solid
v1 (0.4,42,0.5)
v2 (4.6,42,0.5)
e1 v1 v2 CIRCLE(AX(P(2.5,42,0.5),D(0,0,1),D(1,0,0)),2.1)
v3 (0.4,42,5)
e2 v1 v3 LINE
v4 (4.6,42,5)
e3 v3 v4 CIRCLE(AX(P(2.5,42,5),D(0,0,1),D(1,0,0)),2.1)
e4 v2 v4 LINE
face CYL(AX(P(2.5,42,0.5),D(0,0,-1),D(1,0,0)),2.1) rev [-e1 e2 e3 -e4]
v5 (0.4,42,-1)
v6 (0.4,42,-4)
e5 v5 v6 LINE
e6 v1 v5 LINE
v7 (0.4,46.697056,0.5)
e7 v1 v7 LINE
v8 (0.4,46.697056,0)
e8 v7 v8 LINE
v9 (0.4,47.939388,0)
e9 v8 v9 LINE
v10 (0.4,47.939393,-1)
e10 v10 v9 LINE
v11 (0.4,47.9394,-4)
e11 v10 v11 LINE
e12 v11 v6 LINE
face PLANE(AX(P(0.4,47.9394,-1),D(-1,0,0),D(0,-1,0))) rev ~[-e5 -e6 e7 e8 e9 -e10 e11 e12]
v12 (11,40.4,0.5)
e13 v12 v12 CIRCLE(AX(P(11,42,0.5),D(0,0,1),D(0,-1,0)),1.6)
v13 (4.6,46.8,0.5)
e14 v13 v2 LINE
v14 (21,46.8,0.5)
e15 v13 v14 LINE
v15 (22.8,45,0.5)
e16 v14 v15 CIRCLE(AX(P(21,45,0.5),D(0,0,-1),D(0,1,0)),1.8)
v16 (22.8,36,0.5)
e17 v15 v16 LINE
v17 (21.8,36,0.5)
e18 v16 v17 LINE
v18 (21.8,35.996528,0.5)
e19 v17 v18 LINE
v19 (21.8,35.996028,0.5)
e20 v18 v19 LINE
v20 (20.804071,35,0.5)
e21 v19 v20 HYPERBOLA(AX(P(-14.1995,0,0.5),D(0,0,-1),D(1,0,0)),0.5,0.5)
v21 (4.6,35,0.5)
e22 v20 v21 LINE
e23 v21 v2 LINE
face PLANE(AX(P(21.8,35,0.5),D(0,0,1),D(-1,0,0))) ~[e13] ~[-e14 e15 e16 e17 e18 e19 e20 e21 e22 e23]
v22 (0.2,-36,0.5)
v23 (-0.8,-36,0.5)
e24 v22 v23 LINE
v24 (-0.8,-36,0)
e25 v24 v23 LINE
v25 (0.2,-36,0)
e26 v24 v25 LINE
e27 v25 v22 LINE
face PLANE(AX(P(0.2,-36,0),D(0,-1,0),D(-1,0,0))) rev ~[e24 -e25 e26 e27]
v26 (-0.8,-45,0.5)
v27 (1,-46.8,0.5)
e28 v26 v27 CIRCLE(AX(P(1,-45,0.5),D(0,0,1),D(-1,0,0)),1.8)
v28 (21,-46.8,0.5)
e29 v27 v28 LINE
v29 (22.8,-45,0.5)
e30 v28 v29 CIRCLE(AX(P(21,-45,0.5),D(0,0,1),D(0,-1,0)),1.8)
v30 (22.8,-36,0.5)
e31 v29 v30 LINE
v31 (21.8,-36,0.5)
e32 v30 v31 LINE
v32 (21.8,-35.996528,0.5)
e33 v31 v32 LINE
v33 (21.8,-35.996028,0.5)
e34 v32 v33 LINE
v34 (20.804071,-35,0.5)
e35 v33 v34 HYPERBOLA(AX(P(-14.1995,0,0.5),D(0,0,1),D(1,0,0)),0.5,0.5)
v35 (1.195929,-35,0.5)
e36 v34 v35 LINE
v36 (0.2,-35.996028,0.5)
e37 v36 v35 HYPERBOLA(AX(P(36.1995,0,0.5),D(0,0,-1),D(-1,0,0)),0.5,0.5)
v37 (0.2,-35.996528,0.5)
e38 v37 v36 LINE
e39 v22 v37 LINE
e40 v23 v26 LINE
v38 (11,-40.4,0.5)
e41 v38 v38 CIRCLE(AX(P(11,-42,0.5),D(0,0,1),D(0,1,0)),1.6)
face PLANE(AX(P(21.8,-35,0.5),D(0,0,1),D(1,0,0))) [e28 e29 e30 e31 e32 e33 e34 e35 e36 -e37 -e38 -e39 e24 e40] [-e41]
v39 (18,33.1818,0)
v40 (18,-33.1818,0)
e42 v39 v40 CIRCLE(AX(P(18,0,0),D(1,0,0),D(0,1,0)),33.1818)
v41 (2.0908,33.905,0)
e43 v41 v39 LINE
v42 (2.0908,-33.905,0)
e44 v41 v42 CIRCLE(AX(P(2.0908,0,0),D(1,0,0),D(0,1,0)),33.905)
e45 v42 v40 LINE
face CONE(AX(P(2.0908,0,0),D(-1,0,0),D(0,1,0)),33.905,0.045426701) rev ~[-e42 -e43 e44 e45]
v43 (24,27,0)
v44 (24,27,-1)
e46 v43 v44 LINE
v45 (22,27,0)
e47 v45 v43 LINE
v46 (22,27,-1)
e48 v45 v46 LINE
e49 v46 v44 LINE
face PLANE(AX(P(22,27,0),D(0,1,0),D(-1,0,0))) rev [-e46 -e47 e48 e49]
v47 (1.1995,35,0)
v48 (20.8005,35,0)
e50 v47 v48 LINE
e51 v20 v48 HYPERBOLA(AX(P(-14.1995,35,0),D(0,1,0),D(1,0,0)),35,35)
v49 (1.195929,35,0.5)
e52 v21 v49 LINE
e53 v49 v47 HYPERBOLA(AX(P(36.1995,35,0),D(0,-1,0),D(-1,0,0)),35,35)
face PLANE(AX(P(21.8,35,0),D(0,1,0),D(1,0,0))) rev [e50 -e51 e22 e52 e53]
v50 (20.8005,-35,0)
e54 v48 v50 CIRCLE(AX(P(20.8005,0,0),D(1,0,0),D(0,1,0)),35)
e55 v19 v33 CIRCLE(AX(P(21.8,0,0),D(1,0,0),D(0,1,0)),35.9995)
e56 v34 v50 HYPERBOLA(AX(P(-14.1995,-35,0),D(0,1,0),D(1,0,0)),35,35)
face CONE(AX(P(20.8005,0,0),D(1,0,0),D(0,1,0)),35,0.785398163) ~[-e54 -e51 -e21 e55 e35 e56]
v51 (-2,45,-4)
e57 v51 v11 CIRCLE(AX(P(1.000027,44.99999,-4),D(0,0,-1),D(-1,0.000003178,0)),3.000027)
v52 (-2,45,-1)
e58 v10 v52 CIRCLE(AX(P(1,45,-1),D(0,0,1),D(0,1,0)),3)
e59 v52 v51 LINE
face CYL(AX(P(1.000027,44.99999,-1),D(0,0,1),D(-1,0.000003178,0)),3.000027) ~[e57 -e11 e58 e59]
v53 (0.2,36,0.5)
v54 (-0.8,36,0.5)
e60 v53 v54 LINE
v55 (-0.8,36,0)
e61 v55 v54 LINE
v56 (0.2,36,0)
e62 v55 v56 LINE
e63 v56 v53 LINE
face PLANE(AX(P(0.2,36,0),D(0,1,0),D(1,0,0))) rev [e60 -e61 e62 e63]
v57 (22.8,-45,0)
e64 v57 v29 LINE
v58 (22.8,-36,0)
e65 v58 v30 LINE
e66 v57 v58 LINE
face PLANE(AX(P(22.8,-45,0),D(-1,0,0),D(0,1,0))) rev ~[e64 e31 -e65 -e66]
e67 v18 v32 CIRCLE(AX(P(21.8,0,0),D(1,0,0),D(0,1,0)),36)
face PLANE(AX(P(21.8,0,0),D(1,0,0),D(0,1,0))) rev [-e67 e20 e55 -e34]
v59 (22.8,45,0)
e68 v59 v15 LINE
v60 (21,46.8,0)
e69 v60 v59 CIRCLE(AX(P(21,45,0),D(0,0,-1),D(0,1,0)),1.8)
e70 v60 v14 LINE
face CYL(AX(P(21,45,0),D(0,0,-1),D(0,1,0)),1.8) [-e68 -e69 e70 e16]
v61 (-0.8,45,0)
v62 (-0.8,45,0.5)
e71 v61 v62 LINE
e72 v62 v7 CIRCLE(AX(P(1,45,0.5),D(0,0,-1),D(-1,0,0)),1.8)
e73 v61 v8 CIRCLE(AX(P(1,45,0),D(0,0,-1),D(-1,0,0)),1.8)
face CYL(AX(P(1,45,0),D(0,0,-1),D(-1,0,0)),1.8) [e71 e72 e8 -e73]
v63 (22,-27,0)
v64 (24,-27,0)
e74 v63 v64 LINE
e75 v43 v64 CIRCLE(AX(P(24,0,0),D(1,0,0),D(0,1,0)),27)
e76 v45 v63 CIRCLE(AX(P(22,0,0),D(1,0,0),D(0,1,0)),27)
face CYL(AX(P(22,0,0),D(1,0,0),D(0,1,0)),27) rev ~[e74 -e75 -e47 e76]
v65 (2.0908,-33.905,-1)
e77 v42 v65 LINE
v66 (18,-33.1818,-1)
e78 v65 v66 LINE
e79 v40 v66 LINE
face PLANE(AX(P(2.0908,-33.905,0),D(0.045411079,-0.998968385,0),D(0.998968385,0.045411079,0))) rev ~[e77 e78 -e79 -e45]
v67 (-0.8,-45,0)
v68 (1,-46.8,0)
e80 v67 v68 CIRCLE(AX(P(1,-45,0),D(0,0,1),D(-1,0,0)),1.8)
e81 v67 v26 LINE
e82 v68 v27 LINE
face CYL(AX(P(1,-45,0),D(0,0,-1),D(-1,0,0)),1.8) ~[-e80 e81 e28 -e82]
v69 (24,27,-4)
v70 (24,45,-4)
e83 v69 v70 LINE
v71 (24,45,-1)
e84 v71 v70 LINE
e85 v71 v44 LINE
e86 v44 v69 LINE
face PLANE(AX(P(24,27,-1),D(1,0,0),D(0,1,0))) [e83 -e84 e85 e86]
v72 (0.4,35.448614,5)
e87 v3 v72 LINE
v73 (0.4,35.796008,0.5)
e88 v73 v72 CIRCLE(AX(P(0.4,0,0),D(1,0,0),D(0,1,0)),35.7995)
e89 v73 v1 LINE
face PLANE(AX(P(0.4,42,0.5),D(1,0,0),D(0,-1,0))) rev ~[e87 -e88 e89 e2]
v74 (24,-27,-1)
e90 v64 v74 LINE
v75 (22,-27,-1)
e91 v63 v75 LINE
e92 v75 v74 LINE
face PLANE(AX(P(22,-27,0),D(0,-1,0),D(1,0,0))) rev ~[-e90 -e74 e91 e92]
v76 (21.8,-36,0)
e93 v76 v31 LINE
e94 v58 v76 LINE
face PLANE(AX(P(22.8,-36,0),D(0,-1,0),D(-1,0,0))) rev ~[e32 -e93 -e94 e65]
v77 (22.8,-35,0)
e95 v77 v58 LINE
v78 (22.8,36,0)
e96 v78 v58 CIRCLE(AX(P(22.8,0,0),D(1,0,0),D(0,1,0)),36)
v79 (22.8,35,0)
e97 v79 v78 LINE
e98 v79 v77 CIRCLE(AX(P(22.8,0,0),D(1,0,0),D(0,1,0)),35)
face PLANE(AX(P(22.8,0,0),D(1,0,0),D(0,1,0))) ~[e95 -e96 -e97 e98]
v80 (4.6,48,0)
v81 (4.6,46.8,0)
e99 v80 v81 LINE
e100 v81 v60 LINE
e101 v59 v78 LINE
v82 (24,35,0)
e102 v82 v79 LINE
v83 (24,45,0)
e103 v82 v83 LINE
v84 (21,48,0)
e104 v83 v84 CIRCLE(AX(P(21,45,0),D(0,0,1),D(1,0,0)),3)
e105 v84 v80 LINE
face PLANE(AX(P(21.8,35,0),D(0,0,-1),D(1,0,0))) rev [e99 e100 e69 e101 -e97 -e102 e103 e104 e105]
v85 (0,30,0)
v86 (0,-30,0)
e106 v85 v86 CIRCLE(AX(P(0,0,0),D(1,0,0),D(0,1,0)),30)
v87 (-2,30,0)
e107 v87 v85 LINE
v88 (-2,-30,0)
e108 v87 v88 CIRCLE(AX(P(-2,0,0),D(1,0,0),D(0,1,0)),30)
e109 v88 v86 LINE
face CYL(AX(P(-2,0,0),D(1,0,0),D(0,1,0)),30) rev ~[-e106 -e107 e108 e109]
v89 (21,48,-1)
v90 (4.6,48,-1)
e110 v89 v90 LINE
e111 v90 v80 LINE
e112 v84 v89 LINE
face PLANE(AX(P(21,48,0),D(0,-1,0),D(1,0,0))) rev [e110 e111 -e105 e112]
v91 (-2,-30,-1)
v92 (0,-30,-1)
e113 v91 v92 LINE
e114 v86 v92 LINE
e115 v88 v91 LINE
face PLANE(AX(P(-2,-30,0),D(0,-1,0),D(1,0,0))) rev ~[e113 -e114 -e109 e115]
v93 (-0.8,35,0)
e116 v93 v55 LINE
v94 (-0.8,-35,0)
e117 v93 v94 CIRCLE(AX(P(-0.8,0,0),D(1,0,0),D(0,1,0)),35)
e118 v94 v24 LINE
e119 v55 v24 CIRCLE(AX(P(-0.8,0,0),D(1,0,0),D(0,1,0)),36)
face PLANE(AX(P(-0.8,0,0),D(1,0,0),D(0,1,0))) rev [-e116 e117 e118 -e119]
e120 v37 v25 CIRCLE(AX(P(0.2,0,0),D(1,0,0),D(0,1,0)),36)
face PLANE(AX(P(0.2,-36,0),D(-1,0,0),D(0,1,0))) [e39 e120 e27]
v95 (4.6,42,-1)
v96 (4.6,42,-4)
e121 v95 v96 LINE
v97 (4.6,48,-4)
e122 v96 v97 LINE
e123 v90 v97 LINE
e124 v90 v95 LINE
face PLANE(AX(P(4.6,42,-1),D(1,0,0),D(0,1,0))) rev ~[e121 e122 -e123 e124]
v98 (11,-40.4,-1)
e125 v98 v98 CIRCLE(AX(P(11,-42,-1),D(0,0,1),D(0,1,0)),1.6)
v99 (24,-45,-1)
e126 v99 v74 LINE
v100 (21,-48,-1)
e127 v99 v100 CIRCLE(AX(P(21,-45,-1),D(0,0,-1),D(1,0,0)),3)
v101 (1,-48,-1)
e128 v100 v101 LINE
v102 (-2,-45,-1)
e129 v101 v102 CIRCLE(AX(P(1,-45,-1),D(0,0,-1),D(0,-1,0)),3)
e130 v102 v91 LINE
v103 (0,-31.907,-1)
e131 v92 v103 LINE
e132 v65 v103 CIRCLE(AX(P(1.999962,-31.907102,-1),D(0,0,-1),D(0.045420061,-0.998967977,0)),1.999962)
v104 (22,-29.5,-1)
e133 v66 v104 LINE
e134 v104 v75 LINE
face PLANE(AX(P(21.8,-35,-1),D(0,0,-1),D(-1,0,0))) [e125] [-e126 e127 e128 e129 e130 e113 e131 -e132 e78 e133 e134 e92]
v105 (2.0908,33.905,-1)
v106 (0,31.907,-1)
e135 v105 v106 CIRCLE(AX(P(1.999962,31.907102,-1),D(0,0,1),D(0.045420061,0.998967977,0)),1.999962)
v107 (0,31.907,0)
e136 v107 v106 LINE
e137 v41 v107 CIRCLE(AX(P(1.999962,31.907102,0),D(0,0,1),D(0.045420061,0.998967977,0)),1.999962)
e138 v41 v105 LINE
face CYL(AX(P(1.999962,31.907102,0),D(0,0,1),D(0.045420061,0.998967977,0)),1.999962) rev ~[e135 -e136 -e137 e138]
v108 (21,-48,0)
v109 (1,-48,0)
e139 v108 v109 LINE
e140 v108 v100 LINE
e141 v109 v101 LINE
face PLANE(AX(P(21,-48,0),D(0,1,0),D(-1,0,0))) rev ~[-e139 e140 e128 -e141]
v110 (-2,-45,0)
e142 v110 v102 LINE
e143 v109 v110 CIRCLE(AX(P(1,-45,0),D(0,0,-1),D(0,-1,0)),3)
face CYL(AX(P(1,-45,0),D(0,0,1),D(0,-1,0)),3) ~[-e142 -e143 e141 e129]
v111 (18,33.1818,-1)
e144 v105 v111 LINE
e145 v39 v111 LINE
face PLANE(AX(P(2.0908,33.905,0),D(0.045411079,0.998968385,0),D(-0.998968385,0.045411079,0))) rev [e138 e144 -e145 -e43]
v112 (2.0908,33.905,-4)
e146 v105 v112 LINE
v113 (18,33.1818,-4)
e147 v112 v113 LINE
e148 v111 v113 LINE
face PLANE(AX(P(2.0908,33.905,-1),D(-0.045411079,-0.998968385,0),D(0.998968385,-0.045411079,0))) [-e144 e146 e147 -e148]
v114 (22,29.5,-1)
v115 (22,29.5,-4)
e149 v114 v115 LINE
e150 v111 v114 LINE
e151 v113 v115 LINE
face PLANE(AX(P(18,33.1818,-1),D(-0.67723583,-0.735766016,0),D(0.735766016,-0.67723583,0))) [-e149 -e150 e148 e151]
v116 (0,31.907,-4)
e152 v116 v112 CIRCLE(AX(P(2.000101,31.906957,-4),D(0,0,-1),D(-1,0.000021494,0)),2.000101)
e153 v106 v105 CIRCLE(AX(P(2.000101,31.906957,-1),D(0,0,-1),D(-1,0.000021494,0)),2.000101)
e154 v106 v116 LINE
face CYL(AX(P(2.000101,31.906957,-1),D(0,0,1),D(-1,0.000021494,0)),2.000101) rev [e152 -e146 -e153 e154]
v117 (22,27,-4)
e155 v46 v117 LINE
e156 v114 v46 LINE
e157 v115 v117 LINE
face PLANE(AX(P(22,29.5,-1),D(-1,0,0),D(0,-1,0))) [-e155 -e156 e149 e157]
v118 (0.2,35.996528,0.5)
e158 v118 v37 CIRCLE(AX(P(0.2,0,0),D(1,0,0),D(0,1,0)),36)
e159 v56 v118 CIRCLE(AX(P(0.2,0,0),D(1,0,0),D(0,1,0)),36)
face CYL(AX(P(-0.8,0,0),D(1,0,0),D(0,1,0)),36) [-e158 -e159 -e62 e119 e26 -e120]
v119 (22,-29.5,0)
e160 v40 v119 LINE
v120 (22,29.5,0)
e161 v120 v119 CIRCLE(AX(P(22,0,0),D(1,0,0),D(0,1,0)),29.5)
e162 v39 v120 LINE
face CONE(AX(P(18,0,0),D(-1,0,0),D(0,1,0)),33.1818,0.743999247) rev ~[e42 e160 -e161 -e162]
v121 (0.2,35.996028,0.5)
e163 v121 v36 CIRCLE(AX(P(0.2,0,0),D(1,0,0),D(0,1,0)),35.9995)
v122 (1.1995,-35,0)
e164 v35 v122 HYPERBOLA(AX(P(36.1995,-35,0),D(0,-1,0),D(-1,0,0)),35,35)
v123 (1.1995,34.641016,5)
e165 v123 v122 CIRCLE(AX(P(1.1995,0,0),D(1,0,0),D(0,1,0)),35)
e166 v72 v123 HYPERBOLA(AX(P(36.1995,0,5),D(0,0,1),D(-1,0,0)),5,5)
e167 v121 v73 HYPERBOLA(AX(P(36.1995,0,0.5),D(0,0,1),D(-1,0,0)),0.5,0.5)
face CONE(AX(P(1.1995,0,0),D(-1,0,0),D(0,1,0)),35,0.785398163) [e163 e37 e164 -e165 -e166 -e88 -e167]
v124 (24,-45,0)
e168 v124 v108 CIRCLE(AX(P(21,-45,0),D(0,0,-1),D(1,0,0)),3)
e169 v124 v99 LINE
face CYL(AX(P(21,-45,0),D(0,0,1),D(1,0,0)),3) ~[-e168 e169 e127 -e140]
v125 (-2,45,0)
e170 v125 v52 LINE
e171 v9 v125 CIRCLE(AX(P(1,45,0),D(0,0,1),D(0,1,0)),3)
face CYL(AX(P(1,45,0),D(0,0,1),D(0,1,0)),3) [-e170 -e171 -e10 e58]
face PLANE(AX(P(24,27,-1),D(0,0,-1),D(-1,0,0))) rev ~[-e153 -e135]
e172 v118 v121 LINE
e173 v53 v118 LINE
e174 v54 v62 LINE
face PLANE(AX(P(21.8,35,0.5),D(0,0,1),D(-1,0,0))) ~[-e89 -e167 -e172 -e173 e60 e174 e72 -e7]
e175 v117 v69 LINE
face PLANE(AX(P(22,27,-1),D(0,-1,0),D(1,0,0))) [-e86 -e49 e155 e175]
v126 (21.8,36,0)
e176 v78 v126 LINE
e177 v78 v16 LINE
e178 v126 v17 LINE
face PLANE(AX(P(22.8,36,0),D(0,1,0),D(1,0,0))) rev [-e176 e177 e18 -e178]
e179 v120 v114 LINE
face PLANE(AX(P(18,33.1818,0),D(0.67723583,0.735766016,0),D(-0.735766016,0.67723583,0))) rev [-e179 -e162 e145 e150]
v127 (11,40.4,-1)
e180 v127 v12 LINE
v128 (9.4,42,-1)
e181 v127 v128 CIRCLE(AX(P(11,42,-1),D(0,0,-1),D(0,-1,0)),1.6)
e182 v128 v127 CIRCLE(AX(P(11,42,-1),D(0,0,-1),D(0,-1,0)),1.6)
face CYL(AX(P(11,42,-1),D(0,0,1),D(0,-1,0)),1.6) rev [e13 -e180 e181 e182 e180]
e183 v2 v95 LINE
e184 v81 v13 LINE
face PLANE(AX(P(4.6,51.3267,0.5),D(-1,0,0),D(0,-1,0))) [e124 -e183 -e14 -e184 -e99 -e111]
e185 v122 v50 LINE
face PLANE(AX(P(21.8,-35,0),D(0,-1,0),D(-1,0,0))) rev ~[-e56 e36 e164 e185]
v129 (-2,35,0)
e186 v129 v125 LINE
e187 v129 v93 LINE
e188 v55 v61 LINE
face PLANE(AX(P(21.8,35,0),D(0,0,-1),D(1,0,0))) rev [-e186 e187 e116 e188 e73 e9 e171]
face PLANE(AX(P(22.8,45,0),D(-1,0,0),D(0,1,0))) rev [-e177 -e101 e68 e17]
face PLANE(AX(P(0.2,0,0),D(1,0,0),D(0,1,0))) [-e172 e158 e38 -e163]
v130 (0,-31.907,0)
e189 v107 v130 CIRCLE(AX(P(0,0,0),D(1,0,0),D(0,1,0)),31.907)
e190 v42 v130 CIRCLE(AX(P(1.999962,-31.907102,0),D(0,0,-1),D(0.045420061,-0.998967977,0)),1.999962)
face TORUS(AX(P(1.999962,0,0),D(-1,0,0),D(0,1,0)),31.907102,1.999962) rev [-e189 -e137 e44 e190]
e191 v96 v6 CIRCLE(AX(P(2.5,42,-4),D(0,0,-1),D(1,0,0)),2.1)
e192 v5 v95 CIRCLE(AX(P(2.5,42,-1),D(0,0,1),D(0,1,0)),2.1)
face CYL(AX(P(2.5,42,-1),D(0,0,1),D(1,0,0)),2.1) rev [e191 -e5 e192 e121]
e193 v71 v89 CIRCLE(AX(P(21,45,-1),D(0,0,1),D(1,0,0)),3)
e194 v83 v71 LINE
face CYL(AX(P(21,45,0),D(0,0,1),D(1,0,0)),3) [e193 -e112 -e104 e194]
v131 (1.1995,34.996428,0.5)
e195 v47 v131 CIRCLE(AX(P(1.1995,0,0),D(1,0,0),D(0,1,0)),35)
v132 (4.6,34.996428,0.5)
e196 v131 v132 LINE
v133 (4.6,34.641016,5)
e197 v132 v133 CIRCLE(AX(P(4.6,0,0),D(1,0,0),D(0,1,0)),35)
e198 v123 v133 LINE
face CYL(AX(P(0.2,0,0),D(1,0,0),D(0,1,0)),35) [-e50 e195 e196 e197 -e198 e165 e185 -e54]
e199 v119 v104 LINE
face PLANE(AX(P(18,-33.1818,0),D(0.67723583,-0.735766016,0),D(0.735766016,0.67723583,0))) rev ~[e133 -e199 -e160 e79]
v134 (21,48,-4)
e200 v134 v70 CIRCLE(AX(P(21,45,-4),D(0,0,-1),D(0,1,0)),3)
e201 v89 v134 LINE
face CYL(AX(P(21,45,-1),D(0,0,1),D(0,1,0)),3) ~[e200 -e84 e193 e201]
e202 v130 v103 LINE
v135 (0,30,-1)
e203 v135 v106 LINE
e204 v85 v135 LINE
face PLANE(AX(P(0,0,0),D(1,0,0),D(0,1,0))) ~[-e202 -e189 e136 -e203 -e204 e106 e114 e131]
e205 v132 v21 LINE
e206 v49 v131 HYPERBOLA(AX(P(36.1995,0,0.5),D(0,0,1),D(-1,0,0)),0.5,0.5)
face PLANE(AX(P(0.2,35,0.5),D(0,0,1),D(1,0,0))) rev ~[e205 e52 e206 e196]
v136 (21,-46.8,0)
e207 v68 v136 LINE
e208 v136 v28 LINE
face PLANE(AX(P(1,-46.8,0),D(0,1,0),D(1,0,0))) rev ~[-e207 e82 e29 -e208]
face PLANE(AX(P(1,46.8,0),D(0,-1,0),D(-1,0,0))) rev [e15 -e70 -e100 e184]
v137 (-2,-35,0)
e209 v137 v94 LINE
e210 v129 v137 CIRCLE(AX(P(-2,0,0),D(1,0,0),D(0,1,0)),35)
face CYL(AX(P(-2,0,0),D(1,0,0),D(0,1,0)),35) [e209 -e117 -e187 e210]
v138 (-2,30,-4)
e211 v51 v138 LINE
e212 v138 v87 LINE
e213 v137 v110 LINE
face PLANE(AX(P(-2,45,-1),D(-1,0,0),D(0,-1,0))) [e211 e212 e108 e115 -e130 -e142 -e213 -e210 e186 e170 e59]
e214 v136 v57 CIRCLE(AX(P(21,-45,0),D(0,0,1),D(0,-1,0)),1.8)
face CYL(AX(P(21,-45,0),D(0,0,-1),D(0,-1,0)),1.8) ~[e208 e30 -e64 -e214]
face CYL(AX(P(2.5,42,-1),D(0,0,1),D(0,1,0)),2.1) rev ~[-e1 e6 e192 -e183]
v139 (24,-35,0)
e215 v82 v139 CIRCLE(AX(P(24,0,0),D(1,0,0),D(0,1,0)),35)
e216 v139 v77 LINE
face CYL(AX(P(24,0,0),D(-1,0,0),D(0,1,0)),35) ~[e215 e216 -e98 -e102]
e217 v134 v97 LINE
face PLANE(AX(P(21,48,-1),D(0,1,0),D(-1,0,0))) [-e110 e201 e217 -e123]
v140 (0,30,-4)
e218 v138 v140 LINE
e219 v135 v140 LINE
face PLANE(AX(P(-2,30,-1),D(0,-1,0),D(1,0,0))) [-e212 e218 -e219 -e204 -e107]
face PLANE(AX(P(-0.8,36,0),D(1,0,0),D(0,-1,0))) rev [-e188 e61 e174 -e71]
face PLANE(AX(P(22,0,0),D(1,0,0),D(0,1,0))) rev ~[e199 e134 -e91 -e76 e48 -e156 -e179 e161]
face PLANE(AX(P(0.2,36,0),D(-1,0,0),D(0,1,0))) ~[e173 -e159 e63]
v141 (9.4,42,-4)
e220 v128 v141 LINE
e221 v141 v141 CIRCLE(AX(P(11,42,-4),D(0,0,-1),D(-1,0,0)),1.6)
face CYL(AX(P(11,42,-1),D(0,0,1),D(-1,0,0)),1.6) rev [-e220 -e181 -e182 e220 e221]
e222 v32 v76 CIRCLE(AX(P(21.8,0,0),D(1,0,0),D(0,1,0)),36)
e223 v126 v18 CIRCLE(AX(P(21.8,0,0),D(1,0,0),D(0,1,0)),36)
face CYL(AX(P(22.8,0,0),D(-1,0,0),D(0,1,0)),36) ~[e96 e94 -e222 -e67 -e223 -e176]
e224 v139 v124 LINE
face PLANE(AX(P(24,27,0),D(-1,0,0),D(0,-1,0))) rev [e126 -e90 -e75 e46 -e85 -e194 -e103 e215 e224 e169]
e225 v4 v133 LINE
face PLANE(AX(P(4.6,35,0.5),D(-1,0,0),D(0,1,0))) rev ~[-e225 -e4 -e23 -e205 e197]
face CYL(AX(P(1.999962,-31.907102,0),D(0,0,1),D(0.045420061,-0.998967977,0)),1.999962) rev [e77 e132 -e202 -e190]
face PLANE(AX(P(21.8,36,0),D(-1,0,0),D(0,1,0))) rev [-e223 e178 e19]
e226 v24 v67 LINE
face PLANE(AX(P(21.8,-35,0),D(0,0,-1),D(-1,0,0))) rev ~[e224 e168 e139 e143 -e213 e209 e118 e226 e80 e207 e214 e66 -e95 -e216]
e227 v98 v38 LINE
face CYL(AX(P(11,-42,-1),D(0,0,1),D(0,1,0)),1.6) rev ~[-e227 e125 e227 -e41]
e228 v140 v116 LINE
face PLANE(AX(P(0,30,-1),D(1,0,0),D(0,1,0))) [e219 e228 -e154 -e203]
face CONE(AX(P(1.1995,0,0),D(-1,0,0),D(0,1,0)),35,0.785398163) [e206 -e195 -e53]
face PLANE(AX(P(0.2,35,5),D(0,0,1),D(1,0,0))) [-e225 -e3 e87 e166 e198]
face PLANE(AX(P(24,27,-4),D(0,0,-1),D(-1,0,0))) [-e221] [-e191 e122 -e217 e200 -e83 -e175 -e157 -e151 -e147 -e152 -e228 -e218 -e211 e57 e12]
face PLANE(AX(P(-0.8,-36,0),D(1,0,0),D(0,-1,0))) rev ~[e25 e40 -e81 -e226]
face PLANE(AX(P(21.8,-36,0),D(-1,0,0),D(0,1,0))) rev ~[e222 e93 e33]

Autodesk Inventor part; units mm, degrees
ref_plane "YZ Plane" through (0, 0, 0) normal (1, 0, 0) x (0, 1, 0)
ref_plane "XZ Plane" through (0, 0, 0) normal (0, 1, 0) x (-1, 0, 0)
sketch "Sketch1" plane through (0, 0, 0) normal (0, 0, 1) x (1, 0, 0)
  line L0 (0, 30) -> (0, 31.907)
  line L1 (2.0908, 33.905) -> (18, 33.1818)
  line L2 (22, 29.5) -> (22, 27)
  line L3 (22, 27) -> (24, 27)
  line L4 (24, 27) -> (24, 35)
  line L5 (-2, 35) -> (-2, 30)
  line L6 (-2, 30) -> (0, 30)
  line L7 (0, 0) -> (88.4682, 0)
  arc A0 (2.0908, 33.905) -> (0, 31.907) centre (2, 31.907) ccw
  line L8 (18, 33.1818) -> (22, 29.5)
  line L9 (-2, 35) -> (-0.8, 35)
  line L10 (-0.8, 35) -> (-0.8, 36)
  line L11 (-0.8, 36) -> (0.2, 36)
  line L12 (0.2, 36) -> (0.2, 35)
  line L13 (0.2, 35) -> (21.8, 35)
  line L14 (21.8, 35) -> (21.8, 36)
  line L15 (24, 35) -> (22.8, 35)
  line L16 (22.8, 35) -> (22.8, 36)
  line L17 (22.8, 36) -> (21.8, 36)
  point P0 (0, 34)
  point P1 (22, 33)
  point P2 (-1, 30)
  point P3 (22.3, 36)
  point P4 (-0.3, 36)
  dimension "d0" = 66
  dimension "d1" = 68
  dimension "d2" = 22
  dimension "d3" = 2
  dimension "d4" = 6
  dimension "d7" = 2
  dimension "d8" = 4
  dimension "d9" = 3.5
  dimension "d10" = 4
  dimension "d11" = 2
  dimension "d12" = 1.2
  dimension "d13" = 70
  dimension "d14" = 1
  dimension "d16" = 26
  dimension "d66" = 1
revolve "Revolution1" add sketch "Sketch1" angle 180 about axis through (0, 0, 0) along (1, 0, 0)
sketch "Sketch2" plane through (21.8, -35, 0) normal (0, 0, -1) x (-1, 0, 0)
  line L0 (23.8, 0) -> (23.8, 5) projected
  line L1 (23.8, 0) -> (-2.2, 0)
  line L2 (-2.2, 0) -> (-2.2, -10)
  line L3 (0.8, -13) -> (20.8, -13)
  line L4 (23.8, -10) -> (23.8, 0)
  arc A0 (20.8, -13) -> (23.8, -10) centre (20.8, -10) ccw
  arc A1 (-2.2, -10) -> (0.8, -13) centre (0.8, -10) ccw
  line L5 (23.8, 5) -> (21.8, 5) projected
  line L6 (21.8, 5) -> (21.8, 3.093) projected
  arc A2 (19.7092, 1.095) -> (21.8, 3.093) centre (19.8, 3.093) ccw projected
  line L7 (19.7092, 1.095) -> (3.8, 1.8182) projected
  line L8 (3.8, 1.8182) -> (-0.2, 5.5) projected
  line L9 (-0.2, 5.5) -> (-0.2, 8) projected
  line L10 (-0.2, 8) -> (-2.2, 8) projected
  line L11 (-2.2, 8) -> (-2.2, 0) projected
  line L12 (-2.2, 0) -> (-1, 0) projected
  line L13 (-1, 0) -> (-1, -1) projected
  line L14 (-1, -1) -> (0, -1) projected
  line L15 (0, -1) -> (0, 0) projected
  line L16 (0, 0) -> (21.6, 0) projected
  line L17 (21.6, 0) -> (21.6, -1) projected
  line L18 (21.6, -1) -> (22.6, -1) projected
  line L19 (22.6, -1) -> (22.6, 0) projected
  line L20 (22.6, 0) -> (23.8, 0) projected
  line L21 (23.8, 0) -> (23.8, 5) projected
  point P0 (21.8, 35)
  dimension "d17" = 48
  dimension "d18" = 3
extrude "Extrusion1" add sketch "Sketch2" along normal blind 1
sketch "Sketch3" plane through (21.8, -35, 0) normal (0, 0, 1) x (1, 0, 0)
  line L0 (-23.8, -10) -> (-23.8, 0) projected
  arc A0 (-23.8, -10) -> (-20.8, -13) centre (-20.8, -10) ccw projected
  line L1 (-0.8, -13) -> (-20.8, -13) projected
  arc A1 (-0.8, -13) -> (2.2, -10) centre (-0.8, -10) ccw projected
  line L2 (2.2, 0) -> (2.2, -10) projected
  line L3 (0, 0) -> (-21.6, 0) projected
  line L4 (0, -1) -> (0, 71) projected
  line L5 (-21.6, -1) -> (-21.6, 71) projected
  line L6 (-22.6, 0) -> (-22.6, -10)
  arc A2 (-22.6, -10) -> (-20.8, -11.8) centre (-20.8, -10) ccw
  line L7 (-20.8, -11.8) -> (-0.8, -11.8)
  arc A3 (-0.8, -11.8) -> (1, -10) centre (-0.8, -10) ccw
  line L8 (1, -10) -> (1, 0)
  line L9 (-21.6, -1) -> (-22.6, -1) projected
  line L10 (1, -1) -> (0, -1) projected
  point P0 (-21.8, 35)
  point P1 (-21.6, 71)
extrude "Extrusion2" add sketch "Sketch3" along normal blind 0.5
sketch "Sketch4" plane through (21.8, -35, -1) normal (0, 0, -1) x (-1, 0, 0)
  line L0 (0.8, -13) -> (20.8, -13) projected
  point P0 (21.8, 35)
  point P1 (10.8, -7)
  point P2 (10.8, -13)
  dimension "d30" = 42
hole "Hole1" at (11, -42, -1) direction (0, 0, 1) diameter 3.2 depth 4.5 tip angle 118
mirror "Mirror1" about plane through (0, 0, 0) normal (0, 1, 0) of "Extrusion1", "Extrusion2", "Hole1"
sketch "Sketch5" plane through (21, 48, -1) normal (0, 0, -1) x (-1, 0, 0)
  line L0 (23, -3) -> (23, -18) projected
  line L1 (0, 0) -> (20, 0) projected
  point P0 (21, -48)
  point P1 (18.5, -6)
  dimension "d38" = 4.5
  dimension "d39" = 6
hole "Hole2" at (2.5, 42, -1) direction (0, 0, 1) diameter 4.2 depth 8 tip angle 118
chamfer "Chamfer1" distance 1 angle 45 2 edges at (21.8, 0, 35) (0.2, 0, 35)
sketch "Sketch6" plane through (0.2, 35, 0.5) normal (0, 0, 1) x (1, 0, 0)
  circle A0 centre (2.3, 7) radius 2.1 projected
  line L0 (4.4, 7) -> (0.2, 7)
  line L1 (0.2, 7) -> (0.2, -1.0182)
  line L2 (0.2, -1.0182) -> (4.4, -1.2091)
  line L3 (4.4, -1.2091) -> (4.4, 7)
  line L4 (21.6, 0) -> (0, 0) projected
  line L5 (1.8908, -1.095) -> (17.8, -1.8182) projected
  point P0 (-0.2, -35)
  point P1 (0.2, 7)
  point P2 (4.1466, 0)
  point P3 (0.4534, 0)
extrude "Extrusion3" add sketch "Sketch6" along normal blind 4.5 contours L3 L4 L1 A0 | L3 L2 L1 L4
sketch "Sketch7" plane through (1, 46.8, 0.5) normal (0, 0, 1) x (1, 0, 0)
  line L0 (3.6, -12.159) -> (3.6, -4.8) projected
  line L1 (3.6, -4.8) -> (-0.6, -4.8)
  line L2 (-0.6, -4.8) -> (-0.6, 4.5267)
  line L3 (-0.6, 4.5267) -> (3.6, 4.5267)
  line L4 (3.6, 4.5267) -> (3.6, -4.8)
  point P0 (-1, -46.8)
extrude "Extrusion4" cut sketch "Sketch7" against normal blind 4.5
ref_plane "Work Plane1" through (-0.8, 0, 36) normal (0, 0, 1) x (1, 0, 0)
sketch "Sketch8" plane through (-0.8, 0, 36) normal (0, 0, 1) x (1, 0, 0)
  line L0 (0.8, -30) -> (0.8, 30) projected
  line L1 (22.6, -35.9965) -> (22.6, 35.9965) projected
  line L2 (0.8, 2) -> (22.6, 2)
  line L3 (22.6, 2) -> (22.6, -2)
  line L4 (22.6, -2) -> (0.8, -2)
  line L5 (0.8, -2) -> (0.8, 2)
  circle A0 centre (11.7, 0) radius 3
  line L6 (1, -35.9965) -> (1, 35.9965) projected
  point P0 (0.8, 0)
  point P1 (0.8, 0)
  point P2 (11.7, -2)
  point P3 (1, 0)
  point P4 (1, 35.9965)
  point P5 (1, -35.9965)
  point P6 (13.9361, -2)
  point P7 (13.9361, 2)
  point P8 (9.4639, 2)
  point P9 (0.8, -2)
  point P10 (9.4639, -2)
  dimension "d47" = 4
  dimension "d48" = 6
extrude "Extrusion5" [suppressed]
sketch "Sketch9" plane through (-0.8, 0, 36) normal (0, 0, 1) x (1, 0, 0)
  line L0 (22.6, -2) -> (22.6, 0) projected
  line L1 (22.6, 0) -> (22.6, 2) projected
  line L2 (22.6, 2) -> (13.9361, 2) projected
  arc A0 (13.9361, 2) -> (9.4639, 2) centre (11.7, 0) ccw projected
  line L3 (9.4639, 2) -> (0.8, 2) projected
  line L4 (0.8, 2) -> (0.8, 0) projected
  line L5 (0.8, 0) -> (0.8, -2) projected
  line L6 (0.8, -2) -> (9.4639, -2) projected
  arc A1 (9.4639, -2) -> (13.9361, -2) centre (11.7, 0) ccw projected
  line L7 (13.9361, -2) -> (22.6, -2) projected
  line L8 (0.8, 1) -> (22.6, 1)
  line L9 (22.6, 1) -> (22.6, -1)
  line L10 (22.6, -1) -> (0.8, -1)
  line L11 (0.8, -1) -> (0.8, 1)
  circle A2 centre (11.7, 0) radius 3
  point P0 (0.8, 0)
  point P1 (14.5284, 1)
  point P2 (14.5284, -1)
  point P3 (8.8716, 1)
  point P4 (9.4639, 2)
  point P5 (9.4639, -2)
  point P6 (8.8716, -1)
  point P7 (0.8, -1)
extrude "Extrusion6" [suppressed]
chamfer "Chamfer2" [suppressed]
sketch "Sketch10" plane through (-0.8, 0, 36) normal (0, 0, 1) x (1, 0, 0)
  arc A0 (13.9361, 2) -> (9.4639, 2) centre (11.7, 0) ccw projected
  point P0 (0.8, 0)
hole "Hole3" [suppressed]
chamfer "Chamfer3" [suppressed]
sketch "Sketch11" plane through (24, 27, -1) normal (0, 0, -1) x (-1, 0, 0)
  line L0 (23.6, 20.9394) -> (23.6, 15) projected
  arc A0 (19.4, 15) -> (23.6, 15) centre (21.5, 15) ccw projected
  line L1 (19.4, 15) -> (19.4, 21) projected
  line L2 (3, 21) -> (19.4, 21) projected
  arc A1 (3, 21) -> (0, 18) centre (3, 18) ccw projected
  line L3 (0, 0) -> (0, 18) projected
  line L4 (2, 0) -> (0, 0) projected
  line L5 (2, 2.5) -> (2, 0) projected
  line L6 (6, 6.1818) -> (2, 2.5) projected
  line L7 (21.9092, 6.905) -> (6, 6.1818) projected
  arc A2 (24, 4.907) -> (21.9092, 6.905) centre (22, 4.907) ccw projected
  line L8 (24, 3) -> (24, 4.907) projected
  line L9 (26, 3) -> (24, 3) projected
  line L10 (26, 18) -> (26, 3) projected
  arc A3 (26, 18) -> (23.6, 20.9394) centre (23, 18) ccw projected
  circle A4 centre (13, 15) radius 1.6 projected
  point P0 (24, -27)
extrude "Extrusion7" add sketch "Sketch11" along normal blind 3
equation "\"d17\" = 0.5 * Outer_Diameter"
equation "\"Outer_Diameter\" = 96"
properties part number "Test"
